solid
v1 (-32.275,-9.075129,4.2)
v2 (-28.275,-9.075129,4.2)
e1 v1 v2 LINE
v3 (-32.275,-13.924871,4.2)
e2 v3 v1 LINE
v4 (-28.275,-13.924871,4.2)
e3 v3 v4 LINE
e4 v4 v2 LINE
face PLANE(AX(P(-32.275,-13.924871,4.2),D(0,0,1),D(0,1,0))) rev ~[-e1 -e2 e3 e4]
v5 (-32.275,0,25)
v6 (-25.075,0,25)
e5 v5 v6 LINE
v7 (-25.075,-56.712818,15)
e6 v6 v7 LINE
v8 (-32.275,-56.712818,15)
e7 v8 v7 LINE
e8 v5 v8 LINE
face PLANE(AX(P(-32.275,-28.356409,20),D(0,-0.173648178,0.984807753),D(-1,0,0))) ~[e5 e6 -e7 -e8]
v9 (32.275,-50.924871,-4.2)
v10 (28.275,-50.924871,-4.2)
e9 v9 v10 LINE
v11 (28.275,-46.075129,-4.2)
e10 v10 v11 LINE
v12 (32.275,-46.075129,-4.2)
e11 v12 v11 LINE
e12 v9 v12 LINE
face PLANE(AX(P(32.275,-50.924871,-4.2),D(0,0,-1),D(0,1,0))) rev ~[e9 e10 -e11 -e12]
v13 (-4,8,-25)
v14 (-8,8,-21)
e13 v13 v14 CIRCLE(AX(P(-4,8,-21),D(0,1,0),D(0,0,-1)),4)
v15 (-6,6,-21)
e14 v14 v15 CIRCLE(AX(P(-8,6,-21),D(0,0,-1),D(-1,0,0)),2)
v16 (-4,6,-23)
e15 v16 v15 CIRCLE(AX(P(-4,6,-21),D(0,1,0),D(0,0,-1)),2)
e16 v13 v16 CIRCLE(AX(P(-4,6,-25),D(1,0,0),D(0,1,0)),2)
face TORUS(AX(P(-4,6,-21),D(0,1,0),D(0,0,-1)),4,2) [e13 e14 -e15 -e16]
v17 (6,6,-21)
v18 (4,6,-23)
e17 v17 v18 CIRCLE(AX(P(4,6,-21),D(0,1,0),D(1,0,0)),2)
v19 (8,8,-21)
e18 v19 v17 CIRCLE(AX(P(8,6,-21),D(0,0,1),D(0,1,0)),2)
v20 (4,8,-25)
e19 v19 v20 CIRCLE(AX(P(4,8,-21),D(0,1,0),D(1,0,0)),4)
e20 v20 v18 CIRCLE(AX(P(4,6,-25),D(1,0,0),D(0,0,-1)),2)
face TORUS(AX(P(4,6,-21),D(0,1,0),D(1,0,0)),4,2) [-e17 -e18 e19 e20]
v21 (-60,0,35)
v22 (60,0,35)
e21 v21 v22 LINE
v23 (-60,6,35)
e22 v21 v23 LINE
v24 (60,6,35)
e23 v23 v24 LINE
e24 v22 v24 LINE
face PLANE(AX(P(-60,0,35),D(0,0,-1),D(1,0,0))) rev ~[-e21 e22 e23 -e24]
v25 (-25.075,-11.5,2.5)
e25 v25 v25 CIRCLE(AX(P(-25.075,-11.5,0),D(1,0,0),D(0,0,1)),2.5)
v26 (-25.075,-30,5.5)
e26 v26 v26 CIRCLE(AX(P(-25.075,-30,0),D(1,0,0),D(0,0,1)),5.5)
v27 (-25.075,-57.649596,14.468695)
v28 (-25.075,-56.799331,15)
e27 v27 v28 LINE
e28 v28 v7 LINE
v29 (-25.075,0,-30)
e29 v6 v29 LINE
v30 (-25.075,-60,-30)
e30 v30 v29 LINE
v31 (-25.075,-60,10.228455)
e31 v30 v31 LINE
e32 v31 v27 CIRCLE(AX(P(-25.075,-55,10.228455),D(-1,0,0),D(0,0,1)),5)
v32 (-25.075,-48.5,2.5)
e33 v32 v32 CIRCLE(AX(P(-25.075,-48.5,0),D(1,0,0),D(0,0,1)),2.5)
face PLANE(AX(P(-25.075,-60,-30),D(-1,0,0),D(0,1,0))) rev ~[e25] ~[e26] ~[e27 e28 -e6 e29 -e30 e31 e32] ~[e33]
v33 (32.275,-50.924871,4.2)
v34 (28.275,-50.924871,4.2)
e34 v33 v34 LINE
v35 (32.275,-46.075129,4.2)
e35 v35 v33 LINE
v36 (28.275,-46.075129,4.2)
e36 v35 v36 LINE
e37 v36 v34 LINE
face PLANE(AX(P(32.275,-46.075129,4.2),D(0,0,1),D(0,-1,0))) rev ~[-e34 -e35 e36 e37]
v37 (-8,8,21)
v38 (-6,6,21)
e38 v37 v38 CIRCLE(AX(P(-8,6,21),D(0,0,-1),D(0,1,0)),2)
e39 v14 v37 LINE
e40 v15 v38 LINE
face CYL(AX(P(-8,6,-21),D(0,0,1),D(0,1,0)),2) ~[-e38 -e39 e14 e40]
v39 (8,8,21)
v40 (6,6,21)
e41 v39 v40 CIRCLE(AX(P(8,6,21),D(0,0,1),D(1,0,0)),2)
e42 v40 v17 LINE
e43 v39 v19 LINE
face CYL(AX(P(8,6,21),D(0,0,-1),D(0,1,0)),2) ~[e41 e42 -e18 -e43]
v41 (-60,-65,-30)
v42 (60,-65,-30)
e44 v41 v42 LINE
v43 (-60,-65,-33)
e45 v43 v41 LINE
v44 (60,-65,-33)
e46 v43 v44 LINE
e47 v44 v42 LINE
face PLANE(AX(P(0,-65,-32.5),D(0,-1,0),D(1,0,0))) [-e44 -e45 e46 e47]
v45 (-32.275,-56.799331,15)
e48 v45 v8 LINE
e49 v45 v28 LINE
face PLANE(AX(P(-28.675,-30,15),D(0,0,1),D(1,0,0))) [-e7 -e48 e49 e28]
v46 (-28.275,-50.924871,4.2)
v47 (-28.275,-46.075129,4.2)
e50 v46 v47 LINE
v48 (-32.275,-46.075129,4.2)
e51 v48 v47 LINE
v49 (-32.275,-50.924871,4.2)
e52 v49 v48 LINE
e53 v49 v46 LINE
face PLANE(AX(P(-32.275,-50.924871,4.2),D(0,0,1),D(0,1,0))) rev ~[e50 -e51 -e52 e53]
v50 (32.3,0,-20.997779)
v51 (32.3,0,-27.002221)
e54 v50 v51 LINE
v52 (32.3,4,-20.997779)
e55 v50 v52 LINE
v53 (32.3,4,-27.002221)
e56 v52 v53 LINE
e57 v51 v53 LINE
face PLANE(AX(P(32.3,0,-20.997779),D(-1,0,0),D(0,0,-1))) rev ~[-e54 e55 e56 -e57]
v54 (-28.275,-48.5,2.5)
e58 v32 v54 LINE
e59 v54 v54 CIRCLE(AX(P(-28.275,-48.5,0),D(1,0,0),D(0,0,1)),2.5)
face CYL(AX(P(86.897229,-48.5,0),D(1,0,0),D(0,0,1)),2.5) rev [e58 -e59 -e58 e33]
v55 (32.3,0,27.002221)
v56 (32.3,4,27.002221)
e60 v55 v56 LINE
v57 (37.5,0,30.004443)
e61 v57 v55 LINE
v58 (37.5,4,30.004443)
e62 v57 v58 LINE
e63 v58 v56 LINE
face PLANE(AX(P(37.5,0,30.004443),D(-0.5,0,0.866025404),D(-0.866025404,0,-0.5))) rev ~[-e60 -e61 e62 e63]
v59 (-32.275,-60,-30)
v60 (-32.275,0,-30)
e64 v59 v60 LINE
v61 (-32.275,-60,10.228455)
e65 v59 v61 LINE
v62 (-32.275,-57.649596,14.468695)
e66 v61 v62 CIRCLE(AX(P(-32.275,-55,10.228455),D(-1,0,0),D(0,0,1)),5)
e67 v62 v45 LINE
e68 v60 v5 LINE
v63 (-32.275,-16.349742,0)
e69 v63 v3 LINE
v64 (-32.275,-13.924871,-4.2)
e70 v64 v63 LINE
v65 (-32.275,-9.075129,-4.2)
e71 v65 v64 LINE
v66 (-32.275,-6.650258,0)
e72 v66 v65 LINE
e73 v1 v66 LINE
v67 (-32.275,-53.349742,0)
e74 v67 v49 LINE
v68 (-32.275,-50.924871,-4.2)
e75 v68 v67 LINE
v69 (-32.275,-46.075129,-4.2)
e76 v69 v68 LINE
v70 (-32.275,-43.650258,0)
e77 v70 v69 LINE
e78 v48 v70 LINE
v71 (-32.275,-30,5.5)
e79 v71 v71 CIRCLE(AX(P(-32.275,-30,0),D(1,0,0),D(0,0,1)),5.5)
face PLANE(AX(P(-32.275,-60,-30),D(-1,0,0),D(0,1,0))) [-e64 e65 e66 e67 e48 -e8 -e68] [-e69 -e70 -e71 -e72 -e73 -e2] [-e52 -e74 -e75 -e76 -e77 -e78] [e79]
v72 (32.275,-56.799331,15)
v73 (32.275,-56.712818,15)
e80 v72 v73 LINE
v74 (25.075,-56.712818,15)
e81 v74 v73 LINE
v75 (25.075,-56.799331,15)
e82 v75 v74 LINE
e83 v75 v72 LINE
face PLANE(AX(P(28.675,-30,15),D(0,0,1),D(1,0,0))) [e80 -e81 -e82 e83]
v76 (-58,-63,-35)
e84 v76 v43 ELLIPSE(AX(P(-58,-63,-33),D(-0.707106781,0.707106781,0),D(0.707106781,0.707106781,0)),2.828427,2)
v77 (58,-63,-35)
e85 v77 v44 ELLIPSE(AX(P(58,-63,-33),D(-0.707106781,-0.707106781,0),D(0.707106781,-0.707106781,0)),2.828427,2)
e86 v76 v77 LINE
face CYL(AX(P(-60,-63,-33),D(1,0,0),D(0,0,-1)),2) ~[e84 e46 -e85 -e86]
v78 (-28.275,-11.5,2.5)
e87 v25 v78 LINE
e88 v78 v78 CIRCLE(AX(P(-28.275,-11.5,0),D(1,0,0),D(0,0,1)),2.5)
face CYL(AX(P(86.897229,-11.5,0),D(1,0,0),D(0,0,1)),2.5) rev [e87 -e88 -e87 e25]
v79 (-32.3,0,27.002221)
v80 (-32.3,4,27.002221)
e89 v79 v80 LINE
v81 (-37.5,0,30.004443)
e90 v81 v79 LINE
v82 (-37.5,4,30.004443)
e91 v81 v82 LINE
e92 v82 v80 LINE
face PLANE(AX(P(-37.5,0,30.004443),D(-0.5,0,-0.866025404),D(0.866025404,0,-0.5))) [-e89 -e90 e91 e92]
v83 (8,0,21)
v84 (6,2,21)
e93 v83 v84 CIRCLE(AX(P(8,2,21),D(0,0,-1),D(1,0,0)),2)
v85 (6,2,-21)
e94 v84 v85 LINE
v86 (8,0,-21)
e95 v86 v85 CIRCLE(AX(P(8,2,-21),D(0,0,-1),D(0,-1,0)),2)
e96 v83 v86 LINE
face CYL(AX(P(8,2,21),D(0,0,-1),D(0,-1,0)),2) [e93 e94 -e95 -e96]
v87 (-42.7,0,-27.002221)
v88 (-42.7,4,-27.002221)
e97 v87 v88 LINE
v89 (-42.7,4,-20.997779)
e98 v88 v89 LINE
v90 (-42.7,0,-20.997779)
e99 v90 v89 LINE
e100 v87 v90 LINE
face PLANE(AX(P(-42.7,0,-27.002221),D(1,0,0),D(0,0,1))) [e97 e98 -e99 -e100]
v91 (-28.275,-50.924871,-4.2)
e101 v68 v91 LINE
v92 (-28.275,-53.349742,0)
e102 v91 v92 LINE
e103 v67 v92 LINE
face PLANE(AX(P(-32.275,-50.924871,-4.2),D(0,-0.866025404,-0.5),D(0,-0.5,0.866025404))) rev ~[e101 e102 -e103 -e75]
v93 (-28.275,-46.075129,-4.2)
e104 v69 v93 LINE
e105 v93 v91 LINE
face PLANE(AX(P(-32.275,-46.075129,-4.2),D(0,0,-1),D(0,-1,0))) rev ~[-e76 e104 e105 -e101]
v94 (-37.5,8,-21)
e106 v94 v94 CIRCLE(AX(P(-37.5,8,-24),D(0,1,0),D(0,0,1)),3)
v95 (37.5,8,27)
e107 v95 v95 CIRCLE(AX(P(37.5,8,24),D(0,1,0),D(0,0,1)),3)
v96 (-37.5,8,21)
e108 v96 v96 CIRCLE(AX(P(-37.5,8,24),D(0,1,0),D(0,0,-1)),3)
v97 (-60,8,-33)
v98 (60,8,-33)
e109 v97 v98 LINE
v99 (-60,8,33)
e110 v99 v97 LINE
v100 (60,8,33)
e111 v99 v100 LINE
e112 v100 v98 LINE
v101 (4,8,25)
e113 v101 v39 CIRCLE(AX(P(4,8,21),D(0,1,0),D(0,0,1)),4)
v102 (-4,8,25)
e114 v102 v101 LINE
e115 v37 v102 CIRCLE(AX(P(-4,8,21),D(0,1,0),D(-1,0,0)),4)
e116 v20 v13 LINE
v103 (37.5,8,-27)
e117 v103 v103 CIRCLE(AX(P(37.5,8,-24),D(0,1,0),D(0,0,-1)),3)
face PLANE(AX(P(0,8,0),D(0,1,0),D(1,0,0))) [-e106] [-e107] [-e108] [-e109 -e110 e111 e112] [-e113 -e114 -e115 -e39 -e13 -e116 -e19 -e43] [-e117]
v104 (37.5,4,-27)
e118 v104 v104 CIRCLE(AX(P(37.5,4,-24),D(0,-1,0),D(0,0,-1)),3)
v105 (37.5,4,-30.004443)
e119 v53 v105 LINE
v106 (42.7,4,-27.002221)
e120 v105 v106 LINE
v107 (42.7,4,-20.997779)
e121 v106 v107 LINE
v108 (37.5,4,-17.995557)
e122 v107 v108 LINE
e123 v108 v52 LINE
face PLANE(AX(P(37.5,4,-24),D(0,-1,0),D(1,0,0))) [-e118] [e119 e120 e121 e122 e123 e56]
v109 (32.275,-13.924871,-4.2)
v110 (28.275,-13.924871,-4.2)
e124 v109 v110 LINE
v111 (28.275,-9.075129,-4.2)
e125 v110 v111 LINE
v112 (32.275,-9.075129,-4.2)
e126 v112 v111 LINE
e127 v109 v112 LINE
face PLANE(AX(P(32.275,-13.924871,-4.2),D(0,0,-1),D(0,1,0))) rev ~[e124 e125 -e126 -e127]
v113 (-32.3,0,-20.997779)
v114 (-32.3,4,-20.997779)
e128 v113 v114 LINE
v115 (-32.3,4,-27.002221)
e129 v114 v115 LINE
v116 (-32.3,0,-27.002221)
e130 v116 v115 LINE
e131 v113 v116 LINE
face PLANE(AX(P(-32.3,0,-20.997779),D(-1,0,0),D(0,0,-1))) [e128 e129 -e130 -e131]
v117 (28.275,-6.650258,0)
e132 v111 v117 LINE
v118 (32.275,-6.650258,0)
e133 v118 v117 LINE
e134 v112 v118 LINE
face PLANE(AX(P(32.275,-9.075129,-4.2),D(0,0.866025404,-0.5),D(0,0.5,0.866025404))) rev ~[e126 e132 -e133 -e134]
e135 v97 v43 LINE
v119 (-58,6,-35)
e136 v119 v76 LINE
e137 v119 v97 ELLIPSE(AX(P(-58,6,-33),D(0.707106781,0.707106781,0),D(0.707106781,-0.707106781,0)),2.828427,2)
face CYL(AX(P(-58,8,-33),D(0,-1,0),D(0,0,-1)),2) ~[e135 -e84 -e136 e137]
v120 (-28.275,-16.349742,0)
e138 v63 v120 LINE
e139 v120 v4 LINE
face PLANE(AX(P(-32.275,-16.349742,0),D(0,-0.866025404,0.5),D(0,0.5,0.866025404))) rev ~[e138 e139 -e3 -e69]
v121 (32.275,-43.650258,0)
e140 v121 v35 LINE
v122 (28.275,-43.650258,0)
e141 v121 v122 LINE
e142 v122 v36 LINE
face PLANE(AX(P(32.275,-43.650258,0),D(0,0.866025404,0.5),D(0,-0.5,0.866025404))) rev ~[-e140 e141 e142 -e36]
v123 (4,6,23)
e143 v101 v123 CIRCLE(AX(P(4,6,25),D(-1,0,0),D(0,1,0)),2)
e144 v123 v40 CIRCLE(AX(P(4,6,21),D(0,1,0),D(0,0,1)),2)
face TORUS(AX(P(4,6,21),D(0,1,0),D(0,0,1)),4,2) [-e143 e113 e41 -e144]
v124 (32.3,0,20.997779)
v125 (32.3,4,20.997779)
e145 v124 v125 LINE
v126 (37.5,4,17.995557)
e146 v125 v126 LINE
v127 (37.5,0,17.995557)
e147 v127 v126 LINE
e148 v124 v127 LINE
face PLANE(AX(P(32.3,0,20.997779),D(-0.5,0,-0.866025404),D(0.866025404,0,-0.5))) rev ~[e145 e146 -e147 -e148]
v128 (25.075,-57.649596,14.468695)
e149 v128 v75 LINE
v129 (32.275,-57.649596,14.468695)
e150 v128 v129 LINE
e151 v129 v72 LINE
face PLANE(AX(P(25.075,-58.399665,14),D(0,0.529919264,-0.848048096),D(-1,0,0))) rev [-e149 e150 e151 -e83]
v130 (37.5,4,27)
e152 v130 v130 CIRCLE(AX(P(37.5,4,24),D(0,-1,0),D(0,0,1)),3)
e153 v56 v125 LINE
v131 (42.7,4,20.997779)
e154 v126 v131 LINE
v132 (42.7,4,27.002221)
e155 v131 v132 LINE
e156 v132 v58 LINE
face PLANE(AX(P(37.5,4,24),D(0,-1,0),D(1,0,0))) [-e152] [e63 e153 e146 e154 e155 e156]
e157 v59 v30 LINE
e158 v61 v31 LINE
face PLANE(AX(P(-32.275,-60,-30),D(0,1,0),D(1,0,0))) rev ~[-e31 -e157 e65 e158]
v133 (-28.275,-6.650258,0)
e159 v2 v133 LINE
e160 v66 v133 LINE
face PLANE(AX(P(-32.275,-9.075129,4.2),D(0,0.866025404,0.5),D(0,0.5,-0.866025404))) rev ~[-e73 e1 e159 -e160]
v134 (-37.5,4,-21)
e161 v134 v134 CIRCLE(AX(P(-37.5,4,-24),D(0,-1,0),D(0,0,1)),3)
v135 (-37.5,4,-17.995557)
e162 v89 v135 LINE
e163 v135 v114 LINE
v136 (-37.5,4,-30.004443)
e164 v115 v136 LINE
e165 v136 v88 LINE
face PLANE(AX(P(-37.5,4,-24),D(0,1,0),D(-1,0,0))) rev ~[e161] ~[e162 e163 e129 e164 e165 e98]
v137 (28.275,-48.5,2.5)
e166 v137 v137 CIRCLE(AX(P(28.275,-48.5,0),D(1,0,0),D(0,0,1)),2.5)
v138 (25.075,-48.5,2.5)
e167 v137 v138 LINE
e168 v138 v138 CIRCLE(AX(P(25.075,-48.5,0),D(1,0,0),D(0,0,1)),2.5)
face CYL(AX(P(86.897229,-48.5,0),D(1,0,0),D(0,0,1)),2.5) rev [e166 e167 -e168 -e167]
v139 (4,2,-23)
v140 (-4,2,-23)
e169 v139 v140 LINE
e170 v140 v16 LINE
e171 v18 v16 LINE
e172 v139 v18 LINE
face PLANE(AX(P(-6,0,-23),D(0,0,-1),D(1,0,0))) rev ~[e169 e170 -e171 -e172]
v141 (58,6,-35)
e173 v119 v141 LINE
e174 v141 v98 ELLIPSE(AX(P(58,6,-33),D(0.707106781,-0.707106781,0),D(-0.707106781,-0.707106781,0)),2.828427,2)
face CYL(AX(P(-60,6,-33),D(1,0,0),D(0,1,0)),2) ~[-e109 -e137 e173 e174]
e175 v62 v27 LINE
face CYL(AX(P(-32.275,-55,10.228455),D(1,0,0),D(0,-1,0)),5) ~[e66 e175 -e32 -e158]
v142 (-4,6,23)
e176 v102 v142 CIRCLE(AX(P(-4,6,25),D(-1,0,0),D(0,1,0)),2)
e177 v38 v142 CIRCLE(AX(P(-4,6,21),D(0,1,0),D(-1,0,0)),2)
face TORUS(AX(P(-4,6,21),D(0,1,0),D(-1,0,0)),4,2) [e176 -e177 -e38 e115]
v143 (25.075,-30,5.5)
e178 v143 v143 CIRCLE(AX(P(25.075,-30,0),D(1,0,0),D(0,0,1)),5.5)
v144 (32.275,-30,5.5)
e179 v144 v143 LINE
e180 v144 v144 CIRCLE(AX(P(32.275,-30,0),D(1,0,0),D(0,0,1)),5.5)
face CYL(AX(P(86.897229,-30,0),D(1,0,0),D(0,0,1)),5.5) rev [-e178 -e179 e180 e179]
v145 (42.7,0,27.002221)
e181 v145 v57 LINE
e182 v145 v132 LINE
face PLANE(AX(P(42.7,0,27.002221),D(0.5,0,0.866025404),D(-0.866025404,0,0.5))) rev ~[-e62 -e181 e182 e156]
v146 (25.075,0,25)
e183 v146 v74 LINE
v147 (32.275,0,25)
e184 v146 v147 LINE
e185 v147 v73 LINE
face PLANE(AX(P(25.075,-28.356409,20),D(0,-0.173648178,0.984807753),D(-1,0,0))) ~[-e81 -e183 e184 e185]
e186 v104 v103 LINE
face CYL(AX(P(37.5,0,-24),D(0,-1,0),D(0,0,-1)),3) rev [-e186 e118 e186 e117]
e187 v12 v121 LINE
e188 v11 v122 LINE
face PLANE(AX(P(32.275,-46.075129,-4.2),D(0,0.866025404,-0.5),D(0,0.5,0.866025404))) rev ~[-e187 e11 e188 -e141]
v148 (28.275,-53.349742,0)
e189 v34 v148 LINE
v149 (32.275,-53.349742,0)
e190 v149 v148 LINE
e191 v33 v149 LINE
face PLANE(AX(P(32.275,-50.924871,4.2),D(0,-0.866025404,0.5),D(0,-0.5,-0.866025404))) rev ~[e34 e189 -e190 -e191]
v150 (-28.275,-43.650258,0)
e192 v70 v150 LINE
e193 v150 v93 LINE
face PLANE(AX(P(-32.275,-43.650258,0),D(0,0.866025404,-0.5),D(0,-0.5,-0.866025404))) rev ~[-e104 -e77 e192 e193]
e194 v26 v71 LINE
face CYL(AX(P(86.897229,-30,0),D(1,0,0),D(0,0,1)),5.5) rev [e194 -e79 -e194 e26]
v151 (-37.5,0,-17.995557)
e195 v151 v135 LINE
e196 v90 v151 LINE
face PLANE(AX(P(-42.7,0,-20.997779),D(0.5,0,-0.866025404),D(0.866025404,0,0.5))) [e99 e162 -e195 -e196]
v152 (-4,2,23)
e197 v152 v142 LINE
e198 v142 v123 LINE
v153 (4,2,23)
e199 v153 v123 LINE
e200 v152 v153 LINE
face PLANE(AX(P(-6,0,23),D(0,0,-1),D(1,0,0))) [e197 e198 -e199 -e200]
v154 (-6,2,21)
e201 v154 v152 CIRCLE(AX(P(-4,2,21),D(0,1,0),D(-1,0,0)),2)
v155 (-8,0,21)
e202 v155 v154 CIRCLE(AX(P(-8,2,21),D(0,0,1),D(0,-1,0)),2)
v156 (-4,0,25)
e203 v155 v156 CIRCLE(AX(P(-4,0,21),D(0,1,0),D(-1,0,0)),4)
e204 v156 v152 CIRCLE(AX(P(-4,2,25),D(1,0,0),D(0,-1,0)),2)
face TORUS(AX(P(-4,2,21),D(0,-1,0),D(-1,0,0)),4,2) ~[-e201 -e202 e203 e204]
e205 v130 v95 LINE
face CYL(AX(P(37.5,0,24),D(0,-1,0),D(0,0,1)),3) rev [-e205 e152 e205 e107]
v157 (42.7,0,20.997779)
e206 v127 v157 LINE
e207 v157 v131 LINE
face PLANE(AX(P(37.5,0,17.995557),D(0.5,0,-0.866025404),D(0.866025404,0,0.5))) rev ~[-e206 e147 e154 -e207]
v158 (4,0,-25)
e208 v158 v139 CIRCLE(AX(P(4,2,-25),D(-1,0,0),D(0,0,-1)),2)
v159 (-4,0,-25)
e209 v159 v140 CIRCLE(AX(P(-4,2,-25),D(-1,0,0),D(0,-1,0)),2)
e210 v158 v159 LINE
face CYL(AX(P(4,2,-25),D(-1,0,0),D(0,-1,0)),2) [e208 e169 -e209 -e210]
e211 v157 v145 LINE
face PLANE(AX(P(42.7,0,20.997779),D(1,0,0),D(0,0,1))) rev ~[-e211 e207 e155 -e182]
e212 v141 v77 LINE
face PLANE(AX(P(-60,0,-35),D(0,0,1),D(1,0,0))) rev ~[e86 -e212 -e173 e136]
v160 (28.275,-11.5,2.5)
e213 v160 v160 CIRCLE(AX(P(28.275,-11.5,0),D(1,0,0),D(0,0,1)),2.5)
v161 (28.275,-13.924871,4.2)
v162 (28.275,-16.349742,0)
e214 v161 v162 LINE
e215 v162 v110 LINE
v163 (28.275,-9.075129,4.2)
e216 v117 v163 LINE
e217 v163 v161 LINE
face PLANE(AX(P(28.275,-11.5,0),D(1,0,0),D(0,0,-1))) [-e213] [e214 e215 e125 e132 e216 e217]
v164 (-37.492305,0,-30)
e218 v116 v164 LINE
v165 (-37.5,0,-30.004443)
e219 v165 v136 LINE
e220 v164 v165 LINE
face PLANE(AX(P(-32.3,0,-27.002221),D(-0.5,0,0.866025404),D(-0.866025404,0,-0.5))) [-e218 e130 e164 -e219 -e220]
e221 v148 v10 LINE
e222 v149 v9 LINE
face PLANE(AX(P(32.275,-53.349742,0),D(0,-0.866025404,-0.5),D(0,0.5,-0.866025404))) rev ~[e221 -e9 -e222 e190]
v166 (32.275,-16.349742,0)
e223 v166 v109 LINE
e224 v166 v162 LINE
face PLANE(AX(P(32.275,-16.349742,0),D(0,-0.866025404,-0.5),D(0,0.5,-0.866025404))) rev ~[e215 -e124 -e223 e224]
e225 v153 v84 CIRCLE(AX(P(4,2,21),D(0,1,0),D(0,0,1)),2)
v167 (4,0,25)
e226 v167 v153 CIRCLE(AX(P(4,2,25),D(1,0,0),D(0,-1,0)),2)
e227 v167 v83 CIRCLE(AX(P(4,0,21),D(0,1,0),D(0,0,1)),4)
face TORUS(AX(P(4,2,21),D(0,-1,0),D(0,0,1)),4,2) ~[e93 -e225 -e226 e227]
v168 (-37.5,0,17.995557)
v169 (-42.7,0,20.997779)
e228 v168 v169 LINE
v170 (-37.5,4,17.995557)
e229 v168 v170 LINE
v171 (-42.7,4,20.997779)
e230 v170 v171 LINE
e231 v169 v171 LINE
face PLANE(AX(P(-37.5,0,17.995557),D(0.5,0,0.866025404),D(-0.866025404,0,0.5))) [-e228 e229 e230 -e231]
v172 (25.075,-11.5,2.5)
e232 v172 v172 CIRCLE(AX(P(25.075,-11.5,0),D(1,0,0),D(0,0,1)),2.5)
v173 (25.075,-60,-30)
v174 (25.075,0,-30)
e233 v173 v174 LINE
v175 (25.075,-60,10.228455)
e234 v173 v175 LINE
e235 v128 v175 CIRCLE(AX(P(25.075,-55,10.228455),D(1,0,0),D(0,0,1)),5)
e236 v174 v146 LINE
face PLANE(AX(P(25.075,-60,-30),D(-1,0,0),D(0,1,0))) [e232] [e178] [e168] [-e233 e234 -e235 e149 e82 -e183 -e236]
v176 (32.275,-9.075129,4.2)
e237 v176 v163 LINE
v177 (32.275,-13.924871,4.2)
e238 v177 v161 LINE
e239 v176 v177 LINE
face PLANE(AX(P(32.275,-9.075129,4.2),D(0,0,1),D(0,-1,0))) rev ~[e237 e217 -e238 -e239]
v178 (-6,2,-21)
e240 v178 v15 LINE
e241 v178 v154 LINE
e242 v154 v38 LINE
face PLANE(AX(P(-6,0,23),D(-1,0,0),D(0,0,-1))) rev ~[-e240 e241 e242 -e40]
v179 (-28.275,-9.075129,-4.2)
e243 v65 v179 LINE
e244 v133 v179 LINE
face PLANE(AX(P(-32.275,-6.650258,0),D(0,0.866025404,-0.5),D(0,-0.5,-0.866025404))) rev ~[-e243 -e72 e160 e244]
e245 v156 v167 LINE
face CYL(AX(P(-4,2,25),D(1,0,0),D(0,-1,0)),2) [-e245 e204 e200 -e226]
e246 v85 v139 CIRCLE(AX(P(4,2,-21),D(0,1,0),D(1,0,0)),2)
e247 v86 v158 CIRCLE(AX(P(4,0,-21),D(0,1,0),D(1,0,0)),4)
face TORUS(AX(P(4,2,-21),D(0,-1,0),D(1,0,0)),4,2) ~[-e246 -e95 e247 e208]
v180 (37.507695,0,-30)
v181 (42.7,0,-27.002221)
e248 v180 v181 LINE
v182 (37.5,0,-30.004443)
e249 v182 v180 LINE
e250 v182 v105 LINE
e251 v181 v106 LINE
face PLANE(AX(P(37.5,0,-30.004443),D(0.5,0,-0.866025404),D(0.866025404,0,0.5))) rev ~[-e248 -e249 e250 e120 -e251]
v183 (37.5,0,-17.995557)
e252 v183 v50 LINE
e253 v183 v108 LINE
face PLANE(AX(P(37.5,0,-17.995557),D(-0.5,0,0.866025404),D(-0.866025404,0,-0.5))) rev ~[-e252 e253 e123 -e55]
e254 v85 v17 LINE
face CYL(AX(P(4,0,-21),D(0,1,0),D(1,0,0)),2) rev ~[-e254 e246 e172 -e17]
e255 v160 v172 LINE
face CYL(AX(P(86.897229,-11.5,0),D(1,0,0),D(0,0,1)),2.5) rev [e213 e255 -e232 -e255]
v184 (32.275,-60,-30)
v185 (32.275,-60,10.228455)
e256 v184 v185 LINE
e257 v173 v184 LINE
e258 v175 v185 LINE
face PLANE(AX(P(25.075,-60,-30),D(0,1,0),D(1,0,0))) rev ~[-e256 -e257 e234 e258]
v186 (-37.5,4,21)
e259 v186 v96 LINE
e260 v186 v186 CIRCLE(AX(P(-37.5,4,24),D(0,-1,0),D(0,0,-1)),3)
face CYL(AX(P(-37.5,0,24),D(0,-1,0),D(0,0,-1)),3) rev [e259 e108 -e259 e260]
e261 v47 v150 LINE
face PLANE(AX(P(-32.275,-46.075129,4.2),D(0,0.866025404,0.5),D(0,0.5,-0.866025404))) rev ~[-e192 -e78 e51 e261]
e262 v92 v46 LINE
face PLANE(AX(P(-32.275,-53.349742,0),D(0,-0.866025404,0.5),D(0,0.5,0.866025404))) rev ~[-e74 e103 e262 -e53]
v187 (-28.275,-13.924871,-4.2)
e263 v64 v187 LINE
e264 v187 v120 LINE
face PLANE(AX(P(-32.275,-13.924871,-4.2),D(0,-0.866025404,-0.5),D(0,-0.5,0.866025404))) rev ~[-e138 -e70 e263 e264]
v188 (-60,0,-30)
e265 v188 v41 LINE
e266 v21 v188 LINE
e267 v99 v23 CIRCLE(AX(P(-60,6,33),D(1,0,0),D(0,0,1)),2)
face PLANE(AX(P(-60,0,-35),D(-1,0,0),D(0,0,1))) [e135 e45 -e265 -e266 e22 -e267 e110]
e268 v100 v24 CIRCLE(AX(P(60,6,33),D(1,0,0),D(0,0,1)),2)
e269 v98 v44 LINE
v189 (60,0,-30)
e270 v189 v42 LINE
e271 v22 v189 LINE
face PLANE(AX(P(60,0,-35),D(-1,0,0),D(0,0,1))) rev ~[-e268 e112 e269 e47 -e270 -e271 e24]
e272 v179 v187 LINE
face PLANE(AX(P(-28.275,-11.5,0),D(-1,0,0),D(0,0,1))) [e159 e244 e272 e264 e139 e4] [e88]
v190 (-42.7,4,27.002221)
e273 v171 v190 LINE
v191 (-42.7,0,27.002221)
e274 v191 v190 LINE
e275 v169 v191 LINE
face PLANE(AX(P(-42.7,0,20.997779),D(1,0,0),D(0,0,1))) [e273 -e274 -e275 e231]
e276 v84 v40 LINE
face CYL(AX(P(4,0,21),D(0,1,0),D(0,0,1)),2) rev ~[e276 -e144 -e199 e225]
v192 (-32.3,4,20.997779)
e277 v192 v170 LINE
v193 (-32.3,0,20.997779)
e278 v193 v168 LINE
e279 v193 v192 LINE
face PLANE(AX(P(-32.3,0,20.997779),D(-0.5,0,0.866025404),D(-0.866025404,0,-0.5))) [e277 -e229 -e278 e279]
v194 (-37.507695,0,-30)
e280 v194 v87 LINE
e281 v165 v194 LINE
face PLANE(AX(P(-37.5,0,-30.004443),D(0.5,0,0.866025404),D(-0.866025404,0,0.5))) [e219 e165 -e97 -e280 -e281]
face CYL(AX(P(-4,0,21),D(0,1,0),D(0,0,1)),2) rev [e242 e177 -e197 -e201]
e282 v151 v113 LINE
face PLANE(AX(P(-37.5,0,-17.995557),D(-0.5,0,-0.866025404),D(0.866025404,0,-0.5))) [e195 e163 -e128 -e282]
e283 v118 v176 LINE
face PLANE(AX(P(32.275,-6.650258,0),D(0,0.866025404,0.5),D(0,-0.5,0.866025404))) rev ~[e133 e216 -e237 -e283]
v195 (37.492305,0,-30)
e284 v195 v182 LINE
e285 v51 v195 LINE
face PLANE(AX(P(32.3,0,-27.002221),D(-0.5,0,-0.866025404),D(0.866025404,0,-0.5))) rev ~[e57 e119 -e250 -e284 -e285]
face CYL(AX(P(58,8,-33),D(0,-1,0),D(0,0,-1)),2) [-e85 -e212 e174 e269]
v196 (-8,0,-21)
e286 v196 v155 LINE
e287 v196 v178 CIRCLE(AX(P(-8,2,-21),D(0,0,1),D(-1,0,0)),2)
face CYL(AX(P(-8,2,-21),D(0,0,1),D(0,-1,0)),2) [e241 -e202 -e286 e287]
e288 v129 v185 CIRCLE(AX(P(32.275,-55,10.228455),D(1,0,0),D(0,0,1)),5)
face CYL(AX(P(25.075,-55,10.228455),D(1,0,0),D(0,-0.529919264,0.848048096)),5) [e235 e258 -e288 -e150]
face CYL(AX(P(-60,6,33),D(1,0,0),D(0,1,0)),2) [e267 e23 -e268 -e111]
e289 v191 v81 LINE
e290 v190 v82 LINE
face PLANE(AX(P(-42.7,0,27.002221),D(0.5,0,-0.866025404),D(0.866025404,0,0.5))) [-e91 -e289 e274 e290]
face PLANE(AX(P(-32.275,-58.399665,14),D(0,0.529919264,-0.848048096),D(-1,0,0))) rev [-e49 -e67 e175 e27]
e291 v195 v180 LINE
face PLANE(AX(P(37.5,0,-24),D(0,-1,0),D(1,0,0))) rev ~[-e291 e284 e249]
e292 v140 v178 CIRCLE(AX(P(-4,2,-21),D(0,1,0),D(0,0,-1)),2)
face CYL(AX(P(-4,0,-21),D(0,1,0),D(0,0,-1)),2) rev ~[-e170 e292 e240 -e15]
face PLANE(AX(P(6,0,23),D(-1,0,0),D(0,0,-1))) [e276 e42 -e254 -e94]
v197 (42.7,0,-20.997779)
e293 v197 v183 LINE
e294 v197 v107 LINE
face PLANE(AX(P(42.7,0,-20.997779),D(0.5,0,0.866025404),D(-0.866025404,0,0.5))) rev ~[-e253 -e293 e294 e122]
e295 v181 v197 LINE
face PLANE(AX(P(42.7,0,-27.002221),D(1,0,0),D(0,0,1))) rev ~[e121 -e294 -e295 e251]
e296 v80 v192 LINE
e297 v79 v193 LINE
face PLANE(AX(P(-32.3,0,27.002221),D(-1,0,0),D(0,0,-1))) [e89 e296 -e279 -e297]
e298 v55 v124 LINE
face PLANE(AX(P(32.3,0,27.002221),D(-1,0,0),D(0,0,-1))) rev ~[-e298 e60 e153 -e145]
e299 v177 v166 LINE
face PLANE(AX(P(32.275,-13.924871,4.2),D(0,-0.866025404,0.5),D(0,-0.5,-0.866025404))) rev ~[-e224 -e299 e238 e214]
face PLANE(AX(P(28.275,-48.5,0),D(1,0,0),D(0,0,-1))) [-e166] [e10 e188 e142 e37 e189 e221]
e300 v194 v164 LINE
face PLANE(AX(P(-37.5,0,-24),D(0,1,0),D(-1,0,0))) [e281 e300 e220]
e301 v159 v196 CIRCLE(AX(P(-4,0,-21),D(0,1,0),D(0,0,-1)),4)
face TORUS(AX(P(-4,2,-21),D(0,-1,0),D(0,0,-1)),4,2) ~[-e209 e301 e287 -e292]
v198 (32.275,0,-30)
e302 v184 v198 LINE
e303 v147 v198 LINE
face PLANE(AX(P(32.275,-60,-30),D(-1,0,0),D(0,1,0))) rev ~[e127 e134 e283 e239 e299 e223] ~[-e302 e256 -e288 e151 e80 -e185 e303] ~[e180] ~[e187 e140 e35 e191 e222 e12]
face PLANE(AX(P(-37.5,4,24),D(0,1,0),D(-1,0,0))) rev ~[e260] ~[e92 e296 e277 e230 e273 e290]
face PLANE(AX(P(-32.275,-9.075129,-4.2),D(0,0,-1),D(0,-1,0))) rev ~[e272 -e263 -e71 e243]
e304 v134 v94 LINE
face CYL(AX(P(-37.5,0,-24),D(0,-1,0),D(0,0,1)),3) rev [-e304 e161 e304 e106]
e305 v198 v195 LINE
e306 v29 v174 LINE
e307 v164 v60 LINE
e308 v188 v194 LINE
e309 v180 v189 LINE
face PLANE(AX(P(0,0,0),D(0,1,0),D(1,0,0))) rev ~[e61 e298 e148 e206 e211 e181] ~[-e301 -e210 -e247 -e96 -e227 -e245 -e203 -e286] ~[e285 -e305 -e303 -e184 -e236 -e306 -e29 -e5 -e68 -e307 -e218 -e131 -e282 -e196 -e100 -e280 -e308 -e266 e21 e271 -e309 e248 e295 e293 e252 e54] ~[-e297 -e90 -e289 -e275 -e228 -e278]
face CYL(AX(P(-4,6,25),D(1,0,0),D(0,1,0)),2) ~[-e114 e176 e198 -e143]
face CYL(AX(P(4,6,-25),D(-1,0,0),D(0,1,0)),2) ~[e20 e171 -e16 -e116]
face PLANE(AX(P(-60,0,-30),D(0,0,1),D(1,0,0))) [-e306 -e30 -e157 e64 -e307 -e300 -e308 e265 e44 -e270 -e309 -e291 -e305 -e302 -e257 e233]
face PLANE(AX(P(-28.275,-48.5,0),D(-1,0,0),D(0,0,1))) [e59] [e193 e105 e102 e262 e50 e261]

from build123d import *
from OCP.BRepFilletAPI import BRepFilletAPI_MakeChamfer

# Parameters (mm, degrees)
SKETCH1_W               = 120
SKETCH1_H               = 70
SKETCH1_R               = 3
SKETCH1_W_2             = 12
SKETCH1_H_2             = 46
BOSS_EXTRUDE1_DEPTH     = 8
FILLET1_R               = 2
SKETCH2_W               = 120
SKETCH2_H               = 5
BOSS_EXTRUDE2_DEPTH     = 65
SKETCH3_W               = 7.2
SKETCH3_H               = 60
BOSS_EXTRUDE3_DEPTH     = 45
CUT_EXTRUDE1_DEPTH      = 119.172228654
CUT_EXTRUDE1_DEPTH_BACK = 119.172228654
SKETCH4_R               = 5.5
SKETCH4_R_2             = 2.5
CUT_EXTRUDE2_DEPTH      = 4
CUT_EXTRUDE3_DEPTH      = 4
CUT_EXTRUDE4_DEPTH      = 4
CHAMFER1_SIZE           = 10
CHAMFER1_SIZE2          = 56.712818196
FILLET3_R               = 2
CHAMFER2_SIZE           = 2
CHAMFER2_SIZE2          = 3.200669058
FILLET4_R               = 5


with BuildPart() as part:
    # Sketch1 → Boss-Extrude1 (new body)
    with BuildSketch(Plane(origin=(0, 0, 0), x_dir=(1, 0, 0), z_dir=(0, 1, 0))):
        Rectangle(SKETCH1_W, SKETCH1_H)
        with Locations(Location((-37.5, 24, 0), (0, 0, 270))):
            Circle(SKETCH1_R, mode=Mode.SUBTRACT)
        with Locations(Location((-37.5, -24, 0), (0, 0, 90))):
            Circle(SKETCH1_R, mode=Mode.SUBTRACT)
        with Locations(Location((37.5, 24, 0), (0, 0, 90))):
            Circle(SKETCH1_R, mode=Mode.SUBTRACT)
        with Locations(Location((37.5, -24, 0), (0, 0, 270))):
            Circle(SKETCH1_R, mode=Mode.SUBTRACT)
        Rectangle(SKETCH1_W_2, SKETCH1_H_2, mode=Mode.SUBTRACT)
    extrude(amount=BOSS_EXTRUDE1_DEPTH)

    # Fillet1
    fillet1_edges = [part.edges().sort_by_distance(p)[0] for p in [
        (-6, 4, -23),
        (-6, 4, 23),
        (6, 4, 23),
        (6, 4, -23),
    ]]
    fillet(fillet1_edges, radius=FILLET1_R)

    # Sketch2 → Boss-Extrude2 (add)
    with BuildSketch(Plane.XZ):
        with Locations((0, -32.5)):
            Rectangle(SKETCH2_W, SKETCH2_H)
    extrude(amount=BOSS_EXTRUDE2_DEPTH)

    # Sketch3 → Boss-Extrude3 (add)
    with BuildSketch(Plane.XY.offset(-30)):
        with Locations((-28.675, -30)):
            Rectangle(SKETCH3_W, SKETCH3_H)
        with Locations((28.675, -30)):
            Rectangle(SKETCH3_W, SKETCH3_H)
    extrude(amount=BOSS_EXTRUDE3_DEPTH)

    # Sketch4 → Cut-Extrude1 (cut, two sides: drawn at the far end of the back side and taken through both)
    with BuildSketch(Plane.ZY.offset(32.275).offset(-CUT_EXTRUDE1_DEPTH_BACK)):
        with Locations((0, -30)):
            Circle(SKETCH4_R)
        with Locations((0, -11.5)):
            Circle(SKETCH4_R_2)
        with Locations((0, -48.5)):
            Circle(SKETCH4_R_2)
    extrude(amount=CUT_EXTRUDE1_DEPTH + CUT_EXTRUDE1_DEPTH_BACK, mode=Mode.SUBTRACT)

    # Sketch5 → Cut-Extrude2 (cut)
    with BuildSketch(Plane.ZY.offset(32.275)):
        Polygon((4.2, -9.075128869), (0, -6.650257739), (-4.2, -9.075128869), (-4.2, -13.924871131), (0, -16.349742261), (4.2, -13.924871131), align=None)
        Polygon((4.2, -46.075128869), (0, -43.650257739), (-4.2, -46.075128869), (-4.2, -50.924871131), (0, -53.349742261), (4.2, -50.924871131), align=None)
    extrude(amount=-CUT_EXTRUDE2_DEPTH, mode=Mode.SUBTRACT)

    # Sketch6 → Cut-Extrude3 (cut)
    with BuildSketch(Plane(origin=(32.275, 0, 0), x_dir=(0, 0, -1), z_dir=(1, 0, 0))):
        Polygon((4.2, -13.924871131), (4.2, -9.075128869), (0, -6.650257739), (-4.2, -9.075128869), (-4.2, -13.924871131), (0, -16.349742261), align=None)
        Polygon((-4.2, -46.075128869), (-4.2, -50.924871131), (0, -53.349742261), (4.2, -50.924871131), (4.2, -46.075128869), (0, -43.650257739), align=None)
    extrude(amount=-CUT_EXTRUDE3_DEPTH, mode=Mode.SUBTRACT)

    # Sketch7 → Cut-Extrude4 (cut)
    with BuildSketch(Plane.XZ):
        Polygon((42.7, -20.9977786), (37.5, -17.9955572), (32.3, -20.9977786), (32.3, -27.0022214), (37.5, -30.0044428), (42.7, -27.0022214), align=None)
        Polygon((42.7, 27.0022214), (37.5, 30.0044428), (32.3, 27.0022214), (32.3, 20.9977786), (37.5, 17.9955572), (42.7, 20.9977786), align=None)
        Polygon((-42.7, -27.0022214), (-42.7, -20.9977786), (-37.5, -17.9955572), (-32.3, -20.9977786), (-32.3, -27.0022214), (-37.5, -30.0044428), align=None)
        Polygon((-42.7, 20.9977786), (-42.7, 27.0022214), (-37.5, 30.0044428), (-32.3, 27.0022214), (-32.3, 20.9977786), (-37.5, 17.9955572), align=None)
    extrude(amount=-CUT_EXTRUDE4_DEPTH, mode=Mode.SUBTRACT)

    # Chamfer1
    chamfer1_edges = [part.edges().sort_by_distance(p)[0] for p in [
        (28.675, 0, 15),
        (-28.675, 0, 15),
    ]]
    chamfer1_side = [part.faces().sort_by_distance(p)[0] for p in [
        (-58.635265594, 0, 2.5),
    ]]
    chamfer(chamfer1_edges, length=CHAMFER1_SIZE, length2=CHAMFER1_SIZE2, reference=chamfer1_side[0])

    # Fillet3
    fillet3_edges = [part.edges().sort_by_distance(p)[0] for p in [
        (0, 8, 35),
        (0, 0, 23),
        (0, 8, 23),
        (6, 0, 0),
        (6, 8, 0),
        (-6, 0, 0),
        (-6, 8, 0),
        (0, 0, -23),
        (0, 8, -23),
        (5.414213562, 0, 22.414213562),
        (5.414213562, 8, 22.414213562),
        (-5.414213562, 0, 22.414213562),
        (-5.414213562, 8, 22.414213562),
        (5.414213562, 0, -22.414213562),
        (5.414213562, 8, -22.414213562),
        (-5.414213562, 0, -22.414213562),
        (-5.414213562, 8, -22.414213562),
        (0, -65, -35),
        (-60, -28.5, -35),
        (60, -28.5, -35),
        (0, 8, -35),
    ]]
    fillet(fillet3_edges, radius=FILLET3_R)

    # Chamfer2: one chamfer whose edges measure the first distance from different faces: ONE call of the kernel's chamfer builder (chamfer() names one face for all edges)
    chamfer2_edges_1 = [part.edges().sort_by_distance(p)[0] for p in [
        (28.675, -60, 15),
    ]]
    chamfer2_side_1 = [part.faces().sort_by_distance(p)[0] for p in [
        (28.675, -60, -7.5),
    ]]
    chamfer2_edges_2 = [part.edges().sort_by_distance(p)[0] for p in [
        (-28.675, -60, 15),
    ]]
    chamfer2_side_2 = [part.faces().sort_by_distance(p)[0] for p in [
        (-28.675, -60, -7.5),
    ]]
    chamfer2 = BRepFilletAPI_MakeChamfer(part.part.solid().wrapped)
    for e in chamfer2_edges_1:
        chamfer2.Add(CHAMFER2_SIZE, CHAMFER2_SIZE2, e.wrapped, chamfer2_side_1[0].wrapped)  # the first distance lies on this face
    for e in chamfer2_edges_2:
        chamfer2.Add(CHAMFER2_SIZE, CHAMFER2_SIZE2, e.wrapped, chamfer2_side_2[0].wrapped)  # the first distance lies on this face
    add(Compound.cast(chamfer2.Shape()), mode=Mode.REPLACE)

    # Fillet4
    fillet4_edges = [part.edges().sort_by_distance(p)[0] for p in [
        (28.675, -60, 13),
        (-28.675, -60, 13),
    ]]
    fillet(fillet4_edges, radius=FILLET4_R)


solid = part.part
